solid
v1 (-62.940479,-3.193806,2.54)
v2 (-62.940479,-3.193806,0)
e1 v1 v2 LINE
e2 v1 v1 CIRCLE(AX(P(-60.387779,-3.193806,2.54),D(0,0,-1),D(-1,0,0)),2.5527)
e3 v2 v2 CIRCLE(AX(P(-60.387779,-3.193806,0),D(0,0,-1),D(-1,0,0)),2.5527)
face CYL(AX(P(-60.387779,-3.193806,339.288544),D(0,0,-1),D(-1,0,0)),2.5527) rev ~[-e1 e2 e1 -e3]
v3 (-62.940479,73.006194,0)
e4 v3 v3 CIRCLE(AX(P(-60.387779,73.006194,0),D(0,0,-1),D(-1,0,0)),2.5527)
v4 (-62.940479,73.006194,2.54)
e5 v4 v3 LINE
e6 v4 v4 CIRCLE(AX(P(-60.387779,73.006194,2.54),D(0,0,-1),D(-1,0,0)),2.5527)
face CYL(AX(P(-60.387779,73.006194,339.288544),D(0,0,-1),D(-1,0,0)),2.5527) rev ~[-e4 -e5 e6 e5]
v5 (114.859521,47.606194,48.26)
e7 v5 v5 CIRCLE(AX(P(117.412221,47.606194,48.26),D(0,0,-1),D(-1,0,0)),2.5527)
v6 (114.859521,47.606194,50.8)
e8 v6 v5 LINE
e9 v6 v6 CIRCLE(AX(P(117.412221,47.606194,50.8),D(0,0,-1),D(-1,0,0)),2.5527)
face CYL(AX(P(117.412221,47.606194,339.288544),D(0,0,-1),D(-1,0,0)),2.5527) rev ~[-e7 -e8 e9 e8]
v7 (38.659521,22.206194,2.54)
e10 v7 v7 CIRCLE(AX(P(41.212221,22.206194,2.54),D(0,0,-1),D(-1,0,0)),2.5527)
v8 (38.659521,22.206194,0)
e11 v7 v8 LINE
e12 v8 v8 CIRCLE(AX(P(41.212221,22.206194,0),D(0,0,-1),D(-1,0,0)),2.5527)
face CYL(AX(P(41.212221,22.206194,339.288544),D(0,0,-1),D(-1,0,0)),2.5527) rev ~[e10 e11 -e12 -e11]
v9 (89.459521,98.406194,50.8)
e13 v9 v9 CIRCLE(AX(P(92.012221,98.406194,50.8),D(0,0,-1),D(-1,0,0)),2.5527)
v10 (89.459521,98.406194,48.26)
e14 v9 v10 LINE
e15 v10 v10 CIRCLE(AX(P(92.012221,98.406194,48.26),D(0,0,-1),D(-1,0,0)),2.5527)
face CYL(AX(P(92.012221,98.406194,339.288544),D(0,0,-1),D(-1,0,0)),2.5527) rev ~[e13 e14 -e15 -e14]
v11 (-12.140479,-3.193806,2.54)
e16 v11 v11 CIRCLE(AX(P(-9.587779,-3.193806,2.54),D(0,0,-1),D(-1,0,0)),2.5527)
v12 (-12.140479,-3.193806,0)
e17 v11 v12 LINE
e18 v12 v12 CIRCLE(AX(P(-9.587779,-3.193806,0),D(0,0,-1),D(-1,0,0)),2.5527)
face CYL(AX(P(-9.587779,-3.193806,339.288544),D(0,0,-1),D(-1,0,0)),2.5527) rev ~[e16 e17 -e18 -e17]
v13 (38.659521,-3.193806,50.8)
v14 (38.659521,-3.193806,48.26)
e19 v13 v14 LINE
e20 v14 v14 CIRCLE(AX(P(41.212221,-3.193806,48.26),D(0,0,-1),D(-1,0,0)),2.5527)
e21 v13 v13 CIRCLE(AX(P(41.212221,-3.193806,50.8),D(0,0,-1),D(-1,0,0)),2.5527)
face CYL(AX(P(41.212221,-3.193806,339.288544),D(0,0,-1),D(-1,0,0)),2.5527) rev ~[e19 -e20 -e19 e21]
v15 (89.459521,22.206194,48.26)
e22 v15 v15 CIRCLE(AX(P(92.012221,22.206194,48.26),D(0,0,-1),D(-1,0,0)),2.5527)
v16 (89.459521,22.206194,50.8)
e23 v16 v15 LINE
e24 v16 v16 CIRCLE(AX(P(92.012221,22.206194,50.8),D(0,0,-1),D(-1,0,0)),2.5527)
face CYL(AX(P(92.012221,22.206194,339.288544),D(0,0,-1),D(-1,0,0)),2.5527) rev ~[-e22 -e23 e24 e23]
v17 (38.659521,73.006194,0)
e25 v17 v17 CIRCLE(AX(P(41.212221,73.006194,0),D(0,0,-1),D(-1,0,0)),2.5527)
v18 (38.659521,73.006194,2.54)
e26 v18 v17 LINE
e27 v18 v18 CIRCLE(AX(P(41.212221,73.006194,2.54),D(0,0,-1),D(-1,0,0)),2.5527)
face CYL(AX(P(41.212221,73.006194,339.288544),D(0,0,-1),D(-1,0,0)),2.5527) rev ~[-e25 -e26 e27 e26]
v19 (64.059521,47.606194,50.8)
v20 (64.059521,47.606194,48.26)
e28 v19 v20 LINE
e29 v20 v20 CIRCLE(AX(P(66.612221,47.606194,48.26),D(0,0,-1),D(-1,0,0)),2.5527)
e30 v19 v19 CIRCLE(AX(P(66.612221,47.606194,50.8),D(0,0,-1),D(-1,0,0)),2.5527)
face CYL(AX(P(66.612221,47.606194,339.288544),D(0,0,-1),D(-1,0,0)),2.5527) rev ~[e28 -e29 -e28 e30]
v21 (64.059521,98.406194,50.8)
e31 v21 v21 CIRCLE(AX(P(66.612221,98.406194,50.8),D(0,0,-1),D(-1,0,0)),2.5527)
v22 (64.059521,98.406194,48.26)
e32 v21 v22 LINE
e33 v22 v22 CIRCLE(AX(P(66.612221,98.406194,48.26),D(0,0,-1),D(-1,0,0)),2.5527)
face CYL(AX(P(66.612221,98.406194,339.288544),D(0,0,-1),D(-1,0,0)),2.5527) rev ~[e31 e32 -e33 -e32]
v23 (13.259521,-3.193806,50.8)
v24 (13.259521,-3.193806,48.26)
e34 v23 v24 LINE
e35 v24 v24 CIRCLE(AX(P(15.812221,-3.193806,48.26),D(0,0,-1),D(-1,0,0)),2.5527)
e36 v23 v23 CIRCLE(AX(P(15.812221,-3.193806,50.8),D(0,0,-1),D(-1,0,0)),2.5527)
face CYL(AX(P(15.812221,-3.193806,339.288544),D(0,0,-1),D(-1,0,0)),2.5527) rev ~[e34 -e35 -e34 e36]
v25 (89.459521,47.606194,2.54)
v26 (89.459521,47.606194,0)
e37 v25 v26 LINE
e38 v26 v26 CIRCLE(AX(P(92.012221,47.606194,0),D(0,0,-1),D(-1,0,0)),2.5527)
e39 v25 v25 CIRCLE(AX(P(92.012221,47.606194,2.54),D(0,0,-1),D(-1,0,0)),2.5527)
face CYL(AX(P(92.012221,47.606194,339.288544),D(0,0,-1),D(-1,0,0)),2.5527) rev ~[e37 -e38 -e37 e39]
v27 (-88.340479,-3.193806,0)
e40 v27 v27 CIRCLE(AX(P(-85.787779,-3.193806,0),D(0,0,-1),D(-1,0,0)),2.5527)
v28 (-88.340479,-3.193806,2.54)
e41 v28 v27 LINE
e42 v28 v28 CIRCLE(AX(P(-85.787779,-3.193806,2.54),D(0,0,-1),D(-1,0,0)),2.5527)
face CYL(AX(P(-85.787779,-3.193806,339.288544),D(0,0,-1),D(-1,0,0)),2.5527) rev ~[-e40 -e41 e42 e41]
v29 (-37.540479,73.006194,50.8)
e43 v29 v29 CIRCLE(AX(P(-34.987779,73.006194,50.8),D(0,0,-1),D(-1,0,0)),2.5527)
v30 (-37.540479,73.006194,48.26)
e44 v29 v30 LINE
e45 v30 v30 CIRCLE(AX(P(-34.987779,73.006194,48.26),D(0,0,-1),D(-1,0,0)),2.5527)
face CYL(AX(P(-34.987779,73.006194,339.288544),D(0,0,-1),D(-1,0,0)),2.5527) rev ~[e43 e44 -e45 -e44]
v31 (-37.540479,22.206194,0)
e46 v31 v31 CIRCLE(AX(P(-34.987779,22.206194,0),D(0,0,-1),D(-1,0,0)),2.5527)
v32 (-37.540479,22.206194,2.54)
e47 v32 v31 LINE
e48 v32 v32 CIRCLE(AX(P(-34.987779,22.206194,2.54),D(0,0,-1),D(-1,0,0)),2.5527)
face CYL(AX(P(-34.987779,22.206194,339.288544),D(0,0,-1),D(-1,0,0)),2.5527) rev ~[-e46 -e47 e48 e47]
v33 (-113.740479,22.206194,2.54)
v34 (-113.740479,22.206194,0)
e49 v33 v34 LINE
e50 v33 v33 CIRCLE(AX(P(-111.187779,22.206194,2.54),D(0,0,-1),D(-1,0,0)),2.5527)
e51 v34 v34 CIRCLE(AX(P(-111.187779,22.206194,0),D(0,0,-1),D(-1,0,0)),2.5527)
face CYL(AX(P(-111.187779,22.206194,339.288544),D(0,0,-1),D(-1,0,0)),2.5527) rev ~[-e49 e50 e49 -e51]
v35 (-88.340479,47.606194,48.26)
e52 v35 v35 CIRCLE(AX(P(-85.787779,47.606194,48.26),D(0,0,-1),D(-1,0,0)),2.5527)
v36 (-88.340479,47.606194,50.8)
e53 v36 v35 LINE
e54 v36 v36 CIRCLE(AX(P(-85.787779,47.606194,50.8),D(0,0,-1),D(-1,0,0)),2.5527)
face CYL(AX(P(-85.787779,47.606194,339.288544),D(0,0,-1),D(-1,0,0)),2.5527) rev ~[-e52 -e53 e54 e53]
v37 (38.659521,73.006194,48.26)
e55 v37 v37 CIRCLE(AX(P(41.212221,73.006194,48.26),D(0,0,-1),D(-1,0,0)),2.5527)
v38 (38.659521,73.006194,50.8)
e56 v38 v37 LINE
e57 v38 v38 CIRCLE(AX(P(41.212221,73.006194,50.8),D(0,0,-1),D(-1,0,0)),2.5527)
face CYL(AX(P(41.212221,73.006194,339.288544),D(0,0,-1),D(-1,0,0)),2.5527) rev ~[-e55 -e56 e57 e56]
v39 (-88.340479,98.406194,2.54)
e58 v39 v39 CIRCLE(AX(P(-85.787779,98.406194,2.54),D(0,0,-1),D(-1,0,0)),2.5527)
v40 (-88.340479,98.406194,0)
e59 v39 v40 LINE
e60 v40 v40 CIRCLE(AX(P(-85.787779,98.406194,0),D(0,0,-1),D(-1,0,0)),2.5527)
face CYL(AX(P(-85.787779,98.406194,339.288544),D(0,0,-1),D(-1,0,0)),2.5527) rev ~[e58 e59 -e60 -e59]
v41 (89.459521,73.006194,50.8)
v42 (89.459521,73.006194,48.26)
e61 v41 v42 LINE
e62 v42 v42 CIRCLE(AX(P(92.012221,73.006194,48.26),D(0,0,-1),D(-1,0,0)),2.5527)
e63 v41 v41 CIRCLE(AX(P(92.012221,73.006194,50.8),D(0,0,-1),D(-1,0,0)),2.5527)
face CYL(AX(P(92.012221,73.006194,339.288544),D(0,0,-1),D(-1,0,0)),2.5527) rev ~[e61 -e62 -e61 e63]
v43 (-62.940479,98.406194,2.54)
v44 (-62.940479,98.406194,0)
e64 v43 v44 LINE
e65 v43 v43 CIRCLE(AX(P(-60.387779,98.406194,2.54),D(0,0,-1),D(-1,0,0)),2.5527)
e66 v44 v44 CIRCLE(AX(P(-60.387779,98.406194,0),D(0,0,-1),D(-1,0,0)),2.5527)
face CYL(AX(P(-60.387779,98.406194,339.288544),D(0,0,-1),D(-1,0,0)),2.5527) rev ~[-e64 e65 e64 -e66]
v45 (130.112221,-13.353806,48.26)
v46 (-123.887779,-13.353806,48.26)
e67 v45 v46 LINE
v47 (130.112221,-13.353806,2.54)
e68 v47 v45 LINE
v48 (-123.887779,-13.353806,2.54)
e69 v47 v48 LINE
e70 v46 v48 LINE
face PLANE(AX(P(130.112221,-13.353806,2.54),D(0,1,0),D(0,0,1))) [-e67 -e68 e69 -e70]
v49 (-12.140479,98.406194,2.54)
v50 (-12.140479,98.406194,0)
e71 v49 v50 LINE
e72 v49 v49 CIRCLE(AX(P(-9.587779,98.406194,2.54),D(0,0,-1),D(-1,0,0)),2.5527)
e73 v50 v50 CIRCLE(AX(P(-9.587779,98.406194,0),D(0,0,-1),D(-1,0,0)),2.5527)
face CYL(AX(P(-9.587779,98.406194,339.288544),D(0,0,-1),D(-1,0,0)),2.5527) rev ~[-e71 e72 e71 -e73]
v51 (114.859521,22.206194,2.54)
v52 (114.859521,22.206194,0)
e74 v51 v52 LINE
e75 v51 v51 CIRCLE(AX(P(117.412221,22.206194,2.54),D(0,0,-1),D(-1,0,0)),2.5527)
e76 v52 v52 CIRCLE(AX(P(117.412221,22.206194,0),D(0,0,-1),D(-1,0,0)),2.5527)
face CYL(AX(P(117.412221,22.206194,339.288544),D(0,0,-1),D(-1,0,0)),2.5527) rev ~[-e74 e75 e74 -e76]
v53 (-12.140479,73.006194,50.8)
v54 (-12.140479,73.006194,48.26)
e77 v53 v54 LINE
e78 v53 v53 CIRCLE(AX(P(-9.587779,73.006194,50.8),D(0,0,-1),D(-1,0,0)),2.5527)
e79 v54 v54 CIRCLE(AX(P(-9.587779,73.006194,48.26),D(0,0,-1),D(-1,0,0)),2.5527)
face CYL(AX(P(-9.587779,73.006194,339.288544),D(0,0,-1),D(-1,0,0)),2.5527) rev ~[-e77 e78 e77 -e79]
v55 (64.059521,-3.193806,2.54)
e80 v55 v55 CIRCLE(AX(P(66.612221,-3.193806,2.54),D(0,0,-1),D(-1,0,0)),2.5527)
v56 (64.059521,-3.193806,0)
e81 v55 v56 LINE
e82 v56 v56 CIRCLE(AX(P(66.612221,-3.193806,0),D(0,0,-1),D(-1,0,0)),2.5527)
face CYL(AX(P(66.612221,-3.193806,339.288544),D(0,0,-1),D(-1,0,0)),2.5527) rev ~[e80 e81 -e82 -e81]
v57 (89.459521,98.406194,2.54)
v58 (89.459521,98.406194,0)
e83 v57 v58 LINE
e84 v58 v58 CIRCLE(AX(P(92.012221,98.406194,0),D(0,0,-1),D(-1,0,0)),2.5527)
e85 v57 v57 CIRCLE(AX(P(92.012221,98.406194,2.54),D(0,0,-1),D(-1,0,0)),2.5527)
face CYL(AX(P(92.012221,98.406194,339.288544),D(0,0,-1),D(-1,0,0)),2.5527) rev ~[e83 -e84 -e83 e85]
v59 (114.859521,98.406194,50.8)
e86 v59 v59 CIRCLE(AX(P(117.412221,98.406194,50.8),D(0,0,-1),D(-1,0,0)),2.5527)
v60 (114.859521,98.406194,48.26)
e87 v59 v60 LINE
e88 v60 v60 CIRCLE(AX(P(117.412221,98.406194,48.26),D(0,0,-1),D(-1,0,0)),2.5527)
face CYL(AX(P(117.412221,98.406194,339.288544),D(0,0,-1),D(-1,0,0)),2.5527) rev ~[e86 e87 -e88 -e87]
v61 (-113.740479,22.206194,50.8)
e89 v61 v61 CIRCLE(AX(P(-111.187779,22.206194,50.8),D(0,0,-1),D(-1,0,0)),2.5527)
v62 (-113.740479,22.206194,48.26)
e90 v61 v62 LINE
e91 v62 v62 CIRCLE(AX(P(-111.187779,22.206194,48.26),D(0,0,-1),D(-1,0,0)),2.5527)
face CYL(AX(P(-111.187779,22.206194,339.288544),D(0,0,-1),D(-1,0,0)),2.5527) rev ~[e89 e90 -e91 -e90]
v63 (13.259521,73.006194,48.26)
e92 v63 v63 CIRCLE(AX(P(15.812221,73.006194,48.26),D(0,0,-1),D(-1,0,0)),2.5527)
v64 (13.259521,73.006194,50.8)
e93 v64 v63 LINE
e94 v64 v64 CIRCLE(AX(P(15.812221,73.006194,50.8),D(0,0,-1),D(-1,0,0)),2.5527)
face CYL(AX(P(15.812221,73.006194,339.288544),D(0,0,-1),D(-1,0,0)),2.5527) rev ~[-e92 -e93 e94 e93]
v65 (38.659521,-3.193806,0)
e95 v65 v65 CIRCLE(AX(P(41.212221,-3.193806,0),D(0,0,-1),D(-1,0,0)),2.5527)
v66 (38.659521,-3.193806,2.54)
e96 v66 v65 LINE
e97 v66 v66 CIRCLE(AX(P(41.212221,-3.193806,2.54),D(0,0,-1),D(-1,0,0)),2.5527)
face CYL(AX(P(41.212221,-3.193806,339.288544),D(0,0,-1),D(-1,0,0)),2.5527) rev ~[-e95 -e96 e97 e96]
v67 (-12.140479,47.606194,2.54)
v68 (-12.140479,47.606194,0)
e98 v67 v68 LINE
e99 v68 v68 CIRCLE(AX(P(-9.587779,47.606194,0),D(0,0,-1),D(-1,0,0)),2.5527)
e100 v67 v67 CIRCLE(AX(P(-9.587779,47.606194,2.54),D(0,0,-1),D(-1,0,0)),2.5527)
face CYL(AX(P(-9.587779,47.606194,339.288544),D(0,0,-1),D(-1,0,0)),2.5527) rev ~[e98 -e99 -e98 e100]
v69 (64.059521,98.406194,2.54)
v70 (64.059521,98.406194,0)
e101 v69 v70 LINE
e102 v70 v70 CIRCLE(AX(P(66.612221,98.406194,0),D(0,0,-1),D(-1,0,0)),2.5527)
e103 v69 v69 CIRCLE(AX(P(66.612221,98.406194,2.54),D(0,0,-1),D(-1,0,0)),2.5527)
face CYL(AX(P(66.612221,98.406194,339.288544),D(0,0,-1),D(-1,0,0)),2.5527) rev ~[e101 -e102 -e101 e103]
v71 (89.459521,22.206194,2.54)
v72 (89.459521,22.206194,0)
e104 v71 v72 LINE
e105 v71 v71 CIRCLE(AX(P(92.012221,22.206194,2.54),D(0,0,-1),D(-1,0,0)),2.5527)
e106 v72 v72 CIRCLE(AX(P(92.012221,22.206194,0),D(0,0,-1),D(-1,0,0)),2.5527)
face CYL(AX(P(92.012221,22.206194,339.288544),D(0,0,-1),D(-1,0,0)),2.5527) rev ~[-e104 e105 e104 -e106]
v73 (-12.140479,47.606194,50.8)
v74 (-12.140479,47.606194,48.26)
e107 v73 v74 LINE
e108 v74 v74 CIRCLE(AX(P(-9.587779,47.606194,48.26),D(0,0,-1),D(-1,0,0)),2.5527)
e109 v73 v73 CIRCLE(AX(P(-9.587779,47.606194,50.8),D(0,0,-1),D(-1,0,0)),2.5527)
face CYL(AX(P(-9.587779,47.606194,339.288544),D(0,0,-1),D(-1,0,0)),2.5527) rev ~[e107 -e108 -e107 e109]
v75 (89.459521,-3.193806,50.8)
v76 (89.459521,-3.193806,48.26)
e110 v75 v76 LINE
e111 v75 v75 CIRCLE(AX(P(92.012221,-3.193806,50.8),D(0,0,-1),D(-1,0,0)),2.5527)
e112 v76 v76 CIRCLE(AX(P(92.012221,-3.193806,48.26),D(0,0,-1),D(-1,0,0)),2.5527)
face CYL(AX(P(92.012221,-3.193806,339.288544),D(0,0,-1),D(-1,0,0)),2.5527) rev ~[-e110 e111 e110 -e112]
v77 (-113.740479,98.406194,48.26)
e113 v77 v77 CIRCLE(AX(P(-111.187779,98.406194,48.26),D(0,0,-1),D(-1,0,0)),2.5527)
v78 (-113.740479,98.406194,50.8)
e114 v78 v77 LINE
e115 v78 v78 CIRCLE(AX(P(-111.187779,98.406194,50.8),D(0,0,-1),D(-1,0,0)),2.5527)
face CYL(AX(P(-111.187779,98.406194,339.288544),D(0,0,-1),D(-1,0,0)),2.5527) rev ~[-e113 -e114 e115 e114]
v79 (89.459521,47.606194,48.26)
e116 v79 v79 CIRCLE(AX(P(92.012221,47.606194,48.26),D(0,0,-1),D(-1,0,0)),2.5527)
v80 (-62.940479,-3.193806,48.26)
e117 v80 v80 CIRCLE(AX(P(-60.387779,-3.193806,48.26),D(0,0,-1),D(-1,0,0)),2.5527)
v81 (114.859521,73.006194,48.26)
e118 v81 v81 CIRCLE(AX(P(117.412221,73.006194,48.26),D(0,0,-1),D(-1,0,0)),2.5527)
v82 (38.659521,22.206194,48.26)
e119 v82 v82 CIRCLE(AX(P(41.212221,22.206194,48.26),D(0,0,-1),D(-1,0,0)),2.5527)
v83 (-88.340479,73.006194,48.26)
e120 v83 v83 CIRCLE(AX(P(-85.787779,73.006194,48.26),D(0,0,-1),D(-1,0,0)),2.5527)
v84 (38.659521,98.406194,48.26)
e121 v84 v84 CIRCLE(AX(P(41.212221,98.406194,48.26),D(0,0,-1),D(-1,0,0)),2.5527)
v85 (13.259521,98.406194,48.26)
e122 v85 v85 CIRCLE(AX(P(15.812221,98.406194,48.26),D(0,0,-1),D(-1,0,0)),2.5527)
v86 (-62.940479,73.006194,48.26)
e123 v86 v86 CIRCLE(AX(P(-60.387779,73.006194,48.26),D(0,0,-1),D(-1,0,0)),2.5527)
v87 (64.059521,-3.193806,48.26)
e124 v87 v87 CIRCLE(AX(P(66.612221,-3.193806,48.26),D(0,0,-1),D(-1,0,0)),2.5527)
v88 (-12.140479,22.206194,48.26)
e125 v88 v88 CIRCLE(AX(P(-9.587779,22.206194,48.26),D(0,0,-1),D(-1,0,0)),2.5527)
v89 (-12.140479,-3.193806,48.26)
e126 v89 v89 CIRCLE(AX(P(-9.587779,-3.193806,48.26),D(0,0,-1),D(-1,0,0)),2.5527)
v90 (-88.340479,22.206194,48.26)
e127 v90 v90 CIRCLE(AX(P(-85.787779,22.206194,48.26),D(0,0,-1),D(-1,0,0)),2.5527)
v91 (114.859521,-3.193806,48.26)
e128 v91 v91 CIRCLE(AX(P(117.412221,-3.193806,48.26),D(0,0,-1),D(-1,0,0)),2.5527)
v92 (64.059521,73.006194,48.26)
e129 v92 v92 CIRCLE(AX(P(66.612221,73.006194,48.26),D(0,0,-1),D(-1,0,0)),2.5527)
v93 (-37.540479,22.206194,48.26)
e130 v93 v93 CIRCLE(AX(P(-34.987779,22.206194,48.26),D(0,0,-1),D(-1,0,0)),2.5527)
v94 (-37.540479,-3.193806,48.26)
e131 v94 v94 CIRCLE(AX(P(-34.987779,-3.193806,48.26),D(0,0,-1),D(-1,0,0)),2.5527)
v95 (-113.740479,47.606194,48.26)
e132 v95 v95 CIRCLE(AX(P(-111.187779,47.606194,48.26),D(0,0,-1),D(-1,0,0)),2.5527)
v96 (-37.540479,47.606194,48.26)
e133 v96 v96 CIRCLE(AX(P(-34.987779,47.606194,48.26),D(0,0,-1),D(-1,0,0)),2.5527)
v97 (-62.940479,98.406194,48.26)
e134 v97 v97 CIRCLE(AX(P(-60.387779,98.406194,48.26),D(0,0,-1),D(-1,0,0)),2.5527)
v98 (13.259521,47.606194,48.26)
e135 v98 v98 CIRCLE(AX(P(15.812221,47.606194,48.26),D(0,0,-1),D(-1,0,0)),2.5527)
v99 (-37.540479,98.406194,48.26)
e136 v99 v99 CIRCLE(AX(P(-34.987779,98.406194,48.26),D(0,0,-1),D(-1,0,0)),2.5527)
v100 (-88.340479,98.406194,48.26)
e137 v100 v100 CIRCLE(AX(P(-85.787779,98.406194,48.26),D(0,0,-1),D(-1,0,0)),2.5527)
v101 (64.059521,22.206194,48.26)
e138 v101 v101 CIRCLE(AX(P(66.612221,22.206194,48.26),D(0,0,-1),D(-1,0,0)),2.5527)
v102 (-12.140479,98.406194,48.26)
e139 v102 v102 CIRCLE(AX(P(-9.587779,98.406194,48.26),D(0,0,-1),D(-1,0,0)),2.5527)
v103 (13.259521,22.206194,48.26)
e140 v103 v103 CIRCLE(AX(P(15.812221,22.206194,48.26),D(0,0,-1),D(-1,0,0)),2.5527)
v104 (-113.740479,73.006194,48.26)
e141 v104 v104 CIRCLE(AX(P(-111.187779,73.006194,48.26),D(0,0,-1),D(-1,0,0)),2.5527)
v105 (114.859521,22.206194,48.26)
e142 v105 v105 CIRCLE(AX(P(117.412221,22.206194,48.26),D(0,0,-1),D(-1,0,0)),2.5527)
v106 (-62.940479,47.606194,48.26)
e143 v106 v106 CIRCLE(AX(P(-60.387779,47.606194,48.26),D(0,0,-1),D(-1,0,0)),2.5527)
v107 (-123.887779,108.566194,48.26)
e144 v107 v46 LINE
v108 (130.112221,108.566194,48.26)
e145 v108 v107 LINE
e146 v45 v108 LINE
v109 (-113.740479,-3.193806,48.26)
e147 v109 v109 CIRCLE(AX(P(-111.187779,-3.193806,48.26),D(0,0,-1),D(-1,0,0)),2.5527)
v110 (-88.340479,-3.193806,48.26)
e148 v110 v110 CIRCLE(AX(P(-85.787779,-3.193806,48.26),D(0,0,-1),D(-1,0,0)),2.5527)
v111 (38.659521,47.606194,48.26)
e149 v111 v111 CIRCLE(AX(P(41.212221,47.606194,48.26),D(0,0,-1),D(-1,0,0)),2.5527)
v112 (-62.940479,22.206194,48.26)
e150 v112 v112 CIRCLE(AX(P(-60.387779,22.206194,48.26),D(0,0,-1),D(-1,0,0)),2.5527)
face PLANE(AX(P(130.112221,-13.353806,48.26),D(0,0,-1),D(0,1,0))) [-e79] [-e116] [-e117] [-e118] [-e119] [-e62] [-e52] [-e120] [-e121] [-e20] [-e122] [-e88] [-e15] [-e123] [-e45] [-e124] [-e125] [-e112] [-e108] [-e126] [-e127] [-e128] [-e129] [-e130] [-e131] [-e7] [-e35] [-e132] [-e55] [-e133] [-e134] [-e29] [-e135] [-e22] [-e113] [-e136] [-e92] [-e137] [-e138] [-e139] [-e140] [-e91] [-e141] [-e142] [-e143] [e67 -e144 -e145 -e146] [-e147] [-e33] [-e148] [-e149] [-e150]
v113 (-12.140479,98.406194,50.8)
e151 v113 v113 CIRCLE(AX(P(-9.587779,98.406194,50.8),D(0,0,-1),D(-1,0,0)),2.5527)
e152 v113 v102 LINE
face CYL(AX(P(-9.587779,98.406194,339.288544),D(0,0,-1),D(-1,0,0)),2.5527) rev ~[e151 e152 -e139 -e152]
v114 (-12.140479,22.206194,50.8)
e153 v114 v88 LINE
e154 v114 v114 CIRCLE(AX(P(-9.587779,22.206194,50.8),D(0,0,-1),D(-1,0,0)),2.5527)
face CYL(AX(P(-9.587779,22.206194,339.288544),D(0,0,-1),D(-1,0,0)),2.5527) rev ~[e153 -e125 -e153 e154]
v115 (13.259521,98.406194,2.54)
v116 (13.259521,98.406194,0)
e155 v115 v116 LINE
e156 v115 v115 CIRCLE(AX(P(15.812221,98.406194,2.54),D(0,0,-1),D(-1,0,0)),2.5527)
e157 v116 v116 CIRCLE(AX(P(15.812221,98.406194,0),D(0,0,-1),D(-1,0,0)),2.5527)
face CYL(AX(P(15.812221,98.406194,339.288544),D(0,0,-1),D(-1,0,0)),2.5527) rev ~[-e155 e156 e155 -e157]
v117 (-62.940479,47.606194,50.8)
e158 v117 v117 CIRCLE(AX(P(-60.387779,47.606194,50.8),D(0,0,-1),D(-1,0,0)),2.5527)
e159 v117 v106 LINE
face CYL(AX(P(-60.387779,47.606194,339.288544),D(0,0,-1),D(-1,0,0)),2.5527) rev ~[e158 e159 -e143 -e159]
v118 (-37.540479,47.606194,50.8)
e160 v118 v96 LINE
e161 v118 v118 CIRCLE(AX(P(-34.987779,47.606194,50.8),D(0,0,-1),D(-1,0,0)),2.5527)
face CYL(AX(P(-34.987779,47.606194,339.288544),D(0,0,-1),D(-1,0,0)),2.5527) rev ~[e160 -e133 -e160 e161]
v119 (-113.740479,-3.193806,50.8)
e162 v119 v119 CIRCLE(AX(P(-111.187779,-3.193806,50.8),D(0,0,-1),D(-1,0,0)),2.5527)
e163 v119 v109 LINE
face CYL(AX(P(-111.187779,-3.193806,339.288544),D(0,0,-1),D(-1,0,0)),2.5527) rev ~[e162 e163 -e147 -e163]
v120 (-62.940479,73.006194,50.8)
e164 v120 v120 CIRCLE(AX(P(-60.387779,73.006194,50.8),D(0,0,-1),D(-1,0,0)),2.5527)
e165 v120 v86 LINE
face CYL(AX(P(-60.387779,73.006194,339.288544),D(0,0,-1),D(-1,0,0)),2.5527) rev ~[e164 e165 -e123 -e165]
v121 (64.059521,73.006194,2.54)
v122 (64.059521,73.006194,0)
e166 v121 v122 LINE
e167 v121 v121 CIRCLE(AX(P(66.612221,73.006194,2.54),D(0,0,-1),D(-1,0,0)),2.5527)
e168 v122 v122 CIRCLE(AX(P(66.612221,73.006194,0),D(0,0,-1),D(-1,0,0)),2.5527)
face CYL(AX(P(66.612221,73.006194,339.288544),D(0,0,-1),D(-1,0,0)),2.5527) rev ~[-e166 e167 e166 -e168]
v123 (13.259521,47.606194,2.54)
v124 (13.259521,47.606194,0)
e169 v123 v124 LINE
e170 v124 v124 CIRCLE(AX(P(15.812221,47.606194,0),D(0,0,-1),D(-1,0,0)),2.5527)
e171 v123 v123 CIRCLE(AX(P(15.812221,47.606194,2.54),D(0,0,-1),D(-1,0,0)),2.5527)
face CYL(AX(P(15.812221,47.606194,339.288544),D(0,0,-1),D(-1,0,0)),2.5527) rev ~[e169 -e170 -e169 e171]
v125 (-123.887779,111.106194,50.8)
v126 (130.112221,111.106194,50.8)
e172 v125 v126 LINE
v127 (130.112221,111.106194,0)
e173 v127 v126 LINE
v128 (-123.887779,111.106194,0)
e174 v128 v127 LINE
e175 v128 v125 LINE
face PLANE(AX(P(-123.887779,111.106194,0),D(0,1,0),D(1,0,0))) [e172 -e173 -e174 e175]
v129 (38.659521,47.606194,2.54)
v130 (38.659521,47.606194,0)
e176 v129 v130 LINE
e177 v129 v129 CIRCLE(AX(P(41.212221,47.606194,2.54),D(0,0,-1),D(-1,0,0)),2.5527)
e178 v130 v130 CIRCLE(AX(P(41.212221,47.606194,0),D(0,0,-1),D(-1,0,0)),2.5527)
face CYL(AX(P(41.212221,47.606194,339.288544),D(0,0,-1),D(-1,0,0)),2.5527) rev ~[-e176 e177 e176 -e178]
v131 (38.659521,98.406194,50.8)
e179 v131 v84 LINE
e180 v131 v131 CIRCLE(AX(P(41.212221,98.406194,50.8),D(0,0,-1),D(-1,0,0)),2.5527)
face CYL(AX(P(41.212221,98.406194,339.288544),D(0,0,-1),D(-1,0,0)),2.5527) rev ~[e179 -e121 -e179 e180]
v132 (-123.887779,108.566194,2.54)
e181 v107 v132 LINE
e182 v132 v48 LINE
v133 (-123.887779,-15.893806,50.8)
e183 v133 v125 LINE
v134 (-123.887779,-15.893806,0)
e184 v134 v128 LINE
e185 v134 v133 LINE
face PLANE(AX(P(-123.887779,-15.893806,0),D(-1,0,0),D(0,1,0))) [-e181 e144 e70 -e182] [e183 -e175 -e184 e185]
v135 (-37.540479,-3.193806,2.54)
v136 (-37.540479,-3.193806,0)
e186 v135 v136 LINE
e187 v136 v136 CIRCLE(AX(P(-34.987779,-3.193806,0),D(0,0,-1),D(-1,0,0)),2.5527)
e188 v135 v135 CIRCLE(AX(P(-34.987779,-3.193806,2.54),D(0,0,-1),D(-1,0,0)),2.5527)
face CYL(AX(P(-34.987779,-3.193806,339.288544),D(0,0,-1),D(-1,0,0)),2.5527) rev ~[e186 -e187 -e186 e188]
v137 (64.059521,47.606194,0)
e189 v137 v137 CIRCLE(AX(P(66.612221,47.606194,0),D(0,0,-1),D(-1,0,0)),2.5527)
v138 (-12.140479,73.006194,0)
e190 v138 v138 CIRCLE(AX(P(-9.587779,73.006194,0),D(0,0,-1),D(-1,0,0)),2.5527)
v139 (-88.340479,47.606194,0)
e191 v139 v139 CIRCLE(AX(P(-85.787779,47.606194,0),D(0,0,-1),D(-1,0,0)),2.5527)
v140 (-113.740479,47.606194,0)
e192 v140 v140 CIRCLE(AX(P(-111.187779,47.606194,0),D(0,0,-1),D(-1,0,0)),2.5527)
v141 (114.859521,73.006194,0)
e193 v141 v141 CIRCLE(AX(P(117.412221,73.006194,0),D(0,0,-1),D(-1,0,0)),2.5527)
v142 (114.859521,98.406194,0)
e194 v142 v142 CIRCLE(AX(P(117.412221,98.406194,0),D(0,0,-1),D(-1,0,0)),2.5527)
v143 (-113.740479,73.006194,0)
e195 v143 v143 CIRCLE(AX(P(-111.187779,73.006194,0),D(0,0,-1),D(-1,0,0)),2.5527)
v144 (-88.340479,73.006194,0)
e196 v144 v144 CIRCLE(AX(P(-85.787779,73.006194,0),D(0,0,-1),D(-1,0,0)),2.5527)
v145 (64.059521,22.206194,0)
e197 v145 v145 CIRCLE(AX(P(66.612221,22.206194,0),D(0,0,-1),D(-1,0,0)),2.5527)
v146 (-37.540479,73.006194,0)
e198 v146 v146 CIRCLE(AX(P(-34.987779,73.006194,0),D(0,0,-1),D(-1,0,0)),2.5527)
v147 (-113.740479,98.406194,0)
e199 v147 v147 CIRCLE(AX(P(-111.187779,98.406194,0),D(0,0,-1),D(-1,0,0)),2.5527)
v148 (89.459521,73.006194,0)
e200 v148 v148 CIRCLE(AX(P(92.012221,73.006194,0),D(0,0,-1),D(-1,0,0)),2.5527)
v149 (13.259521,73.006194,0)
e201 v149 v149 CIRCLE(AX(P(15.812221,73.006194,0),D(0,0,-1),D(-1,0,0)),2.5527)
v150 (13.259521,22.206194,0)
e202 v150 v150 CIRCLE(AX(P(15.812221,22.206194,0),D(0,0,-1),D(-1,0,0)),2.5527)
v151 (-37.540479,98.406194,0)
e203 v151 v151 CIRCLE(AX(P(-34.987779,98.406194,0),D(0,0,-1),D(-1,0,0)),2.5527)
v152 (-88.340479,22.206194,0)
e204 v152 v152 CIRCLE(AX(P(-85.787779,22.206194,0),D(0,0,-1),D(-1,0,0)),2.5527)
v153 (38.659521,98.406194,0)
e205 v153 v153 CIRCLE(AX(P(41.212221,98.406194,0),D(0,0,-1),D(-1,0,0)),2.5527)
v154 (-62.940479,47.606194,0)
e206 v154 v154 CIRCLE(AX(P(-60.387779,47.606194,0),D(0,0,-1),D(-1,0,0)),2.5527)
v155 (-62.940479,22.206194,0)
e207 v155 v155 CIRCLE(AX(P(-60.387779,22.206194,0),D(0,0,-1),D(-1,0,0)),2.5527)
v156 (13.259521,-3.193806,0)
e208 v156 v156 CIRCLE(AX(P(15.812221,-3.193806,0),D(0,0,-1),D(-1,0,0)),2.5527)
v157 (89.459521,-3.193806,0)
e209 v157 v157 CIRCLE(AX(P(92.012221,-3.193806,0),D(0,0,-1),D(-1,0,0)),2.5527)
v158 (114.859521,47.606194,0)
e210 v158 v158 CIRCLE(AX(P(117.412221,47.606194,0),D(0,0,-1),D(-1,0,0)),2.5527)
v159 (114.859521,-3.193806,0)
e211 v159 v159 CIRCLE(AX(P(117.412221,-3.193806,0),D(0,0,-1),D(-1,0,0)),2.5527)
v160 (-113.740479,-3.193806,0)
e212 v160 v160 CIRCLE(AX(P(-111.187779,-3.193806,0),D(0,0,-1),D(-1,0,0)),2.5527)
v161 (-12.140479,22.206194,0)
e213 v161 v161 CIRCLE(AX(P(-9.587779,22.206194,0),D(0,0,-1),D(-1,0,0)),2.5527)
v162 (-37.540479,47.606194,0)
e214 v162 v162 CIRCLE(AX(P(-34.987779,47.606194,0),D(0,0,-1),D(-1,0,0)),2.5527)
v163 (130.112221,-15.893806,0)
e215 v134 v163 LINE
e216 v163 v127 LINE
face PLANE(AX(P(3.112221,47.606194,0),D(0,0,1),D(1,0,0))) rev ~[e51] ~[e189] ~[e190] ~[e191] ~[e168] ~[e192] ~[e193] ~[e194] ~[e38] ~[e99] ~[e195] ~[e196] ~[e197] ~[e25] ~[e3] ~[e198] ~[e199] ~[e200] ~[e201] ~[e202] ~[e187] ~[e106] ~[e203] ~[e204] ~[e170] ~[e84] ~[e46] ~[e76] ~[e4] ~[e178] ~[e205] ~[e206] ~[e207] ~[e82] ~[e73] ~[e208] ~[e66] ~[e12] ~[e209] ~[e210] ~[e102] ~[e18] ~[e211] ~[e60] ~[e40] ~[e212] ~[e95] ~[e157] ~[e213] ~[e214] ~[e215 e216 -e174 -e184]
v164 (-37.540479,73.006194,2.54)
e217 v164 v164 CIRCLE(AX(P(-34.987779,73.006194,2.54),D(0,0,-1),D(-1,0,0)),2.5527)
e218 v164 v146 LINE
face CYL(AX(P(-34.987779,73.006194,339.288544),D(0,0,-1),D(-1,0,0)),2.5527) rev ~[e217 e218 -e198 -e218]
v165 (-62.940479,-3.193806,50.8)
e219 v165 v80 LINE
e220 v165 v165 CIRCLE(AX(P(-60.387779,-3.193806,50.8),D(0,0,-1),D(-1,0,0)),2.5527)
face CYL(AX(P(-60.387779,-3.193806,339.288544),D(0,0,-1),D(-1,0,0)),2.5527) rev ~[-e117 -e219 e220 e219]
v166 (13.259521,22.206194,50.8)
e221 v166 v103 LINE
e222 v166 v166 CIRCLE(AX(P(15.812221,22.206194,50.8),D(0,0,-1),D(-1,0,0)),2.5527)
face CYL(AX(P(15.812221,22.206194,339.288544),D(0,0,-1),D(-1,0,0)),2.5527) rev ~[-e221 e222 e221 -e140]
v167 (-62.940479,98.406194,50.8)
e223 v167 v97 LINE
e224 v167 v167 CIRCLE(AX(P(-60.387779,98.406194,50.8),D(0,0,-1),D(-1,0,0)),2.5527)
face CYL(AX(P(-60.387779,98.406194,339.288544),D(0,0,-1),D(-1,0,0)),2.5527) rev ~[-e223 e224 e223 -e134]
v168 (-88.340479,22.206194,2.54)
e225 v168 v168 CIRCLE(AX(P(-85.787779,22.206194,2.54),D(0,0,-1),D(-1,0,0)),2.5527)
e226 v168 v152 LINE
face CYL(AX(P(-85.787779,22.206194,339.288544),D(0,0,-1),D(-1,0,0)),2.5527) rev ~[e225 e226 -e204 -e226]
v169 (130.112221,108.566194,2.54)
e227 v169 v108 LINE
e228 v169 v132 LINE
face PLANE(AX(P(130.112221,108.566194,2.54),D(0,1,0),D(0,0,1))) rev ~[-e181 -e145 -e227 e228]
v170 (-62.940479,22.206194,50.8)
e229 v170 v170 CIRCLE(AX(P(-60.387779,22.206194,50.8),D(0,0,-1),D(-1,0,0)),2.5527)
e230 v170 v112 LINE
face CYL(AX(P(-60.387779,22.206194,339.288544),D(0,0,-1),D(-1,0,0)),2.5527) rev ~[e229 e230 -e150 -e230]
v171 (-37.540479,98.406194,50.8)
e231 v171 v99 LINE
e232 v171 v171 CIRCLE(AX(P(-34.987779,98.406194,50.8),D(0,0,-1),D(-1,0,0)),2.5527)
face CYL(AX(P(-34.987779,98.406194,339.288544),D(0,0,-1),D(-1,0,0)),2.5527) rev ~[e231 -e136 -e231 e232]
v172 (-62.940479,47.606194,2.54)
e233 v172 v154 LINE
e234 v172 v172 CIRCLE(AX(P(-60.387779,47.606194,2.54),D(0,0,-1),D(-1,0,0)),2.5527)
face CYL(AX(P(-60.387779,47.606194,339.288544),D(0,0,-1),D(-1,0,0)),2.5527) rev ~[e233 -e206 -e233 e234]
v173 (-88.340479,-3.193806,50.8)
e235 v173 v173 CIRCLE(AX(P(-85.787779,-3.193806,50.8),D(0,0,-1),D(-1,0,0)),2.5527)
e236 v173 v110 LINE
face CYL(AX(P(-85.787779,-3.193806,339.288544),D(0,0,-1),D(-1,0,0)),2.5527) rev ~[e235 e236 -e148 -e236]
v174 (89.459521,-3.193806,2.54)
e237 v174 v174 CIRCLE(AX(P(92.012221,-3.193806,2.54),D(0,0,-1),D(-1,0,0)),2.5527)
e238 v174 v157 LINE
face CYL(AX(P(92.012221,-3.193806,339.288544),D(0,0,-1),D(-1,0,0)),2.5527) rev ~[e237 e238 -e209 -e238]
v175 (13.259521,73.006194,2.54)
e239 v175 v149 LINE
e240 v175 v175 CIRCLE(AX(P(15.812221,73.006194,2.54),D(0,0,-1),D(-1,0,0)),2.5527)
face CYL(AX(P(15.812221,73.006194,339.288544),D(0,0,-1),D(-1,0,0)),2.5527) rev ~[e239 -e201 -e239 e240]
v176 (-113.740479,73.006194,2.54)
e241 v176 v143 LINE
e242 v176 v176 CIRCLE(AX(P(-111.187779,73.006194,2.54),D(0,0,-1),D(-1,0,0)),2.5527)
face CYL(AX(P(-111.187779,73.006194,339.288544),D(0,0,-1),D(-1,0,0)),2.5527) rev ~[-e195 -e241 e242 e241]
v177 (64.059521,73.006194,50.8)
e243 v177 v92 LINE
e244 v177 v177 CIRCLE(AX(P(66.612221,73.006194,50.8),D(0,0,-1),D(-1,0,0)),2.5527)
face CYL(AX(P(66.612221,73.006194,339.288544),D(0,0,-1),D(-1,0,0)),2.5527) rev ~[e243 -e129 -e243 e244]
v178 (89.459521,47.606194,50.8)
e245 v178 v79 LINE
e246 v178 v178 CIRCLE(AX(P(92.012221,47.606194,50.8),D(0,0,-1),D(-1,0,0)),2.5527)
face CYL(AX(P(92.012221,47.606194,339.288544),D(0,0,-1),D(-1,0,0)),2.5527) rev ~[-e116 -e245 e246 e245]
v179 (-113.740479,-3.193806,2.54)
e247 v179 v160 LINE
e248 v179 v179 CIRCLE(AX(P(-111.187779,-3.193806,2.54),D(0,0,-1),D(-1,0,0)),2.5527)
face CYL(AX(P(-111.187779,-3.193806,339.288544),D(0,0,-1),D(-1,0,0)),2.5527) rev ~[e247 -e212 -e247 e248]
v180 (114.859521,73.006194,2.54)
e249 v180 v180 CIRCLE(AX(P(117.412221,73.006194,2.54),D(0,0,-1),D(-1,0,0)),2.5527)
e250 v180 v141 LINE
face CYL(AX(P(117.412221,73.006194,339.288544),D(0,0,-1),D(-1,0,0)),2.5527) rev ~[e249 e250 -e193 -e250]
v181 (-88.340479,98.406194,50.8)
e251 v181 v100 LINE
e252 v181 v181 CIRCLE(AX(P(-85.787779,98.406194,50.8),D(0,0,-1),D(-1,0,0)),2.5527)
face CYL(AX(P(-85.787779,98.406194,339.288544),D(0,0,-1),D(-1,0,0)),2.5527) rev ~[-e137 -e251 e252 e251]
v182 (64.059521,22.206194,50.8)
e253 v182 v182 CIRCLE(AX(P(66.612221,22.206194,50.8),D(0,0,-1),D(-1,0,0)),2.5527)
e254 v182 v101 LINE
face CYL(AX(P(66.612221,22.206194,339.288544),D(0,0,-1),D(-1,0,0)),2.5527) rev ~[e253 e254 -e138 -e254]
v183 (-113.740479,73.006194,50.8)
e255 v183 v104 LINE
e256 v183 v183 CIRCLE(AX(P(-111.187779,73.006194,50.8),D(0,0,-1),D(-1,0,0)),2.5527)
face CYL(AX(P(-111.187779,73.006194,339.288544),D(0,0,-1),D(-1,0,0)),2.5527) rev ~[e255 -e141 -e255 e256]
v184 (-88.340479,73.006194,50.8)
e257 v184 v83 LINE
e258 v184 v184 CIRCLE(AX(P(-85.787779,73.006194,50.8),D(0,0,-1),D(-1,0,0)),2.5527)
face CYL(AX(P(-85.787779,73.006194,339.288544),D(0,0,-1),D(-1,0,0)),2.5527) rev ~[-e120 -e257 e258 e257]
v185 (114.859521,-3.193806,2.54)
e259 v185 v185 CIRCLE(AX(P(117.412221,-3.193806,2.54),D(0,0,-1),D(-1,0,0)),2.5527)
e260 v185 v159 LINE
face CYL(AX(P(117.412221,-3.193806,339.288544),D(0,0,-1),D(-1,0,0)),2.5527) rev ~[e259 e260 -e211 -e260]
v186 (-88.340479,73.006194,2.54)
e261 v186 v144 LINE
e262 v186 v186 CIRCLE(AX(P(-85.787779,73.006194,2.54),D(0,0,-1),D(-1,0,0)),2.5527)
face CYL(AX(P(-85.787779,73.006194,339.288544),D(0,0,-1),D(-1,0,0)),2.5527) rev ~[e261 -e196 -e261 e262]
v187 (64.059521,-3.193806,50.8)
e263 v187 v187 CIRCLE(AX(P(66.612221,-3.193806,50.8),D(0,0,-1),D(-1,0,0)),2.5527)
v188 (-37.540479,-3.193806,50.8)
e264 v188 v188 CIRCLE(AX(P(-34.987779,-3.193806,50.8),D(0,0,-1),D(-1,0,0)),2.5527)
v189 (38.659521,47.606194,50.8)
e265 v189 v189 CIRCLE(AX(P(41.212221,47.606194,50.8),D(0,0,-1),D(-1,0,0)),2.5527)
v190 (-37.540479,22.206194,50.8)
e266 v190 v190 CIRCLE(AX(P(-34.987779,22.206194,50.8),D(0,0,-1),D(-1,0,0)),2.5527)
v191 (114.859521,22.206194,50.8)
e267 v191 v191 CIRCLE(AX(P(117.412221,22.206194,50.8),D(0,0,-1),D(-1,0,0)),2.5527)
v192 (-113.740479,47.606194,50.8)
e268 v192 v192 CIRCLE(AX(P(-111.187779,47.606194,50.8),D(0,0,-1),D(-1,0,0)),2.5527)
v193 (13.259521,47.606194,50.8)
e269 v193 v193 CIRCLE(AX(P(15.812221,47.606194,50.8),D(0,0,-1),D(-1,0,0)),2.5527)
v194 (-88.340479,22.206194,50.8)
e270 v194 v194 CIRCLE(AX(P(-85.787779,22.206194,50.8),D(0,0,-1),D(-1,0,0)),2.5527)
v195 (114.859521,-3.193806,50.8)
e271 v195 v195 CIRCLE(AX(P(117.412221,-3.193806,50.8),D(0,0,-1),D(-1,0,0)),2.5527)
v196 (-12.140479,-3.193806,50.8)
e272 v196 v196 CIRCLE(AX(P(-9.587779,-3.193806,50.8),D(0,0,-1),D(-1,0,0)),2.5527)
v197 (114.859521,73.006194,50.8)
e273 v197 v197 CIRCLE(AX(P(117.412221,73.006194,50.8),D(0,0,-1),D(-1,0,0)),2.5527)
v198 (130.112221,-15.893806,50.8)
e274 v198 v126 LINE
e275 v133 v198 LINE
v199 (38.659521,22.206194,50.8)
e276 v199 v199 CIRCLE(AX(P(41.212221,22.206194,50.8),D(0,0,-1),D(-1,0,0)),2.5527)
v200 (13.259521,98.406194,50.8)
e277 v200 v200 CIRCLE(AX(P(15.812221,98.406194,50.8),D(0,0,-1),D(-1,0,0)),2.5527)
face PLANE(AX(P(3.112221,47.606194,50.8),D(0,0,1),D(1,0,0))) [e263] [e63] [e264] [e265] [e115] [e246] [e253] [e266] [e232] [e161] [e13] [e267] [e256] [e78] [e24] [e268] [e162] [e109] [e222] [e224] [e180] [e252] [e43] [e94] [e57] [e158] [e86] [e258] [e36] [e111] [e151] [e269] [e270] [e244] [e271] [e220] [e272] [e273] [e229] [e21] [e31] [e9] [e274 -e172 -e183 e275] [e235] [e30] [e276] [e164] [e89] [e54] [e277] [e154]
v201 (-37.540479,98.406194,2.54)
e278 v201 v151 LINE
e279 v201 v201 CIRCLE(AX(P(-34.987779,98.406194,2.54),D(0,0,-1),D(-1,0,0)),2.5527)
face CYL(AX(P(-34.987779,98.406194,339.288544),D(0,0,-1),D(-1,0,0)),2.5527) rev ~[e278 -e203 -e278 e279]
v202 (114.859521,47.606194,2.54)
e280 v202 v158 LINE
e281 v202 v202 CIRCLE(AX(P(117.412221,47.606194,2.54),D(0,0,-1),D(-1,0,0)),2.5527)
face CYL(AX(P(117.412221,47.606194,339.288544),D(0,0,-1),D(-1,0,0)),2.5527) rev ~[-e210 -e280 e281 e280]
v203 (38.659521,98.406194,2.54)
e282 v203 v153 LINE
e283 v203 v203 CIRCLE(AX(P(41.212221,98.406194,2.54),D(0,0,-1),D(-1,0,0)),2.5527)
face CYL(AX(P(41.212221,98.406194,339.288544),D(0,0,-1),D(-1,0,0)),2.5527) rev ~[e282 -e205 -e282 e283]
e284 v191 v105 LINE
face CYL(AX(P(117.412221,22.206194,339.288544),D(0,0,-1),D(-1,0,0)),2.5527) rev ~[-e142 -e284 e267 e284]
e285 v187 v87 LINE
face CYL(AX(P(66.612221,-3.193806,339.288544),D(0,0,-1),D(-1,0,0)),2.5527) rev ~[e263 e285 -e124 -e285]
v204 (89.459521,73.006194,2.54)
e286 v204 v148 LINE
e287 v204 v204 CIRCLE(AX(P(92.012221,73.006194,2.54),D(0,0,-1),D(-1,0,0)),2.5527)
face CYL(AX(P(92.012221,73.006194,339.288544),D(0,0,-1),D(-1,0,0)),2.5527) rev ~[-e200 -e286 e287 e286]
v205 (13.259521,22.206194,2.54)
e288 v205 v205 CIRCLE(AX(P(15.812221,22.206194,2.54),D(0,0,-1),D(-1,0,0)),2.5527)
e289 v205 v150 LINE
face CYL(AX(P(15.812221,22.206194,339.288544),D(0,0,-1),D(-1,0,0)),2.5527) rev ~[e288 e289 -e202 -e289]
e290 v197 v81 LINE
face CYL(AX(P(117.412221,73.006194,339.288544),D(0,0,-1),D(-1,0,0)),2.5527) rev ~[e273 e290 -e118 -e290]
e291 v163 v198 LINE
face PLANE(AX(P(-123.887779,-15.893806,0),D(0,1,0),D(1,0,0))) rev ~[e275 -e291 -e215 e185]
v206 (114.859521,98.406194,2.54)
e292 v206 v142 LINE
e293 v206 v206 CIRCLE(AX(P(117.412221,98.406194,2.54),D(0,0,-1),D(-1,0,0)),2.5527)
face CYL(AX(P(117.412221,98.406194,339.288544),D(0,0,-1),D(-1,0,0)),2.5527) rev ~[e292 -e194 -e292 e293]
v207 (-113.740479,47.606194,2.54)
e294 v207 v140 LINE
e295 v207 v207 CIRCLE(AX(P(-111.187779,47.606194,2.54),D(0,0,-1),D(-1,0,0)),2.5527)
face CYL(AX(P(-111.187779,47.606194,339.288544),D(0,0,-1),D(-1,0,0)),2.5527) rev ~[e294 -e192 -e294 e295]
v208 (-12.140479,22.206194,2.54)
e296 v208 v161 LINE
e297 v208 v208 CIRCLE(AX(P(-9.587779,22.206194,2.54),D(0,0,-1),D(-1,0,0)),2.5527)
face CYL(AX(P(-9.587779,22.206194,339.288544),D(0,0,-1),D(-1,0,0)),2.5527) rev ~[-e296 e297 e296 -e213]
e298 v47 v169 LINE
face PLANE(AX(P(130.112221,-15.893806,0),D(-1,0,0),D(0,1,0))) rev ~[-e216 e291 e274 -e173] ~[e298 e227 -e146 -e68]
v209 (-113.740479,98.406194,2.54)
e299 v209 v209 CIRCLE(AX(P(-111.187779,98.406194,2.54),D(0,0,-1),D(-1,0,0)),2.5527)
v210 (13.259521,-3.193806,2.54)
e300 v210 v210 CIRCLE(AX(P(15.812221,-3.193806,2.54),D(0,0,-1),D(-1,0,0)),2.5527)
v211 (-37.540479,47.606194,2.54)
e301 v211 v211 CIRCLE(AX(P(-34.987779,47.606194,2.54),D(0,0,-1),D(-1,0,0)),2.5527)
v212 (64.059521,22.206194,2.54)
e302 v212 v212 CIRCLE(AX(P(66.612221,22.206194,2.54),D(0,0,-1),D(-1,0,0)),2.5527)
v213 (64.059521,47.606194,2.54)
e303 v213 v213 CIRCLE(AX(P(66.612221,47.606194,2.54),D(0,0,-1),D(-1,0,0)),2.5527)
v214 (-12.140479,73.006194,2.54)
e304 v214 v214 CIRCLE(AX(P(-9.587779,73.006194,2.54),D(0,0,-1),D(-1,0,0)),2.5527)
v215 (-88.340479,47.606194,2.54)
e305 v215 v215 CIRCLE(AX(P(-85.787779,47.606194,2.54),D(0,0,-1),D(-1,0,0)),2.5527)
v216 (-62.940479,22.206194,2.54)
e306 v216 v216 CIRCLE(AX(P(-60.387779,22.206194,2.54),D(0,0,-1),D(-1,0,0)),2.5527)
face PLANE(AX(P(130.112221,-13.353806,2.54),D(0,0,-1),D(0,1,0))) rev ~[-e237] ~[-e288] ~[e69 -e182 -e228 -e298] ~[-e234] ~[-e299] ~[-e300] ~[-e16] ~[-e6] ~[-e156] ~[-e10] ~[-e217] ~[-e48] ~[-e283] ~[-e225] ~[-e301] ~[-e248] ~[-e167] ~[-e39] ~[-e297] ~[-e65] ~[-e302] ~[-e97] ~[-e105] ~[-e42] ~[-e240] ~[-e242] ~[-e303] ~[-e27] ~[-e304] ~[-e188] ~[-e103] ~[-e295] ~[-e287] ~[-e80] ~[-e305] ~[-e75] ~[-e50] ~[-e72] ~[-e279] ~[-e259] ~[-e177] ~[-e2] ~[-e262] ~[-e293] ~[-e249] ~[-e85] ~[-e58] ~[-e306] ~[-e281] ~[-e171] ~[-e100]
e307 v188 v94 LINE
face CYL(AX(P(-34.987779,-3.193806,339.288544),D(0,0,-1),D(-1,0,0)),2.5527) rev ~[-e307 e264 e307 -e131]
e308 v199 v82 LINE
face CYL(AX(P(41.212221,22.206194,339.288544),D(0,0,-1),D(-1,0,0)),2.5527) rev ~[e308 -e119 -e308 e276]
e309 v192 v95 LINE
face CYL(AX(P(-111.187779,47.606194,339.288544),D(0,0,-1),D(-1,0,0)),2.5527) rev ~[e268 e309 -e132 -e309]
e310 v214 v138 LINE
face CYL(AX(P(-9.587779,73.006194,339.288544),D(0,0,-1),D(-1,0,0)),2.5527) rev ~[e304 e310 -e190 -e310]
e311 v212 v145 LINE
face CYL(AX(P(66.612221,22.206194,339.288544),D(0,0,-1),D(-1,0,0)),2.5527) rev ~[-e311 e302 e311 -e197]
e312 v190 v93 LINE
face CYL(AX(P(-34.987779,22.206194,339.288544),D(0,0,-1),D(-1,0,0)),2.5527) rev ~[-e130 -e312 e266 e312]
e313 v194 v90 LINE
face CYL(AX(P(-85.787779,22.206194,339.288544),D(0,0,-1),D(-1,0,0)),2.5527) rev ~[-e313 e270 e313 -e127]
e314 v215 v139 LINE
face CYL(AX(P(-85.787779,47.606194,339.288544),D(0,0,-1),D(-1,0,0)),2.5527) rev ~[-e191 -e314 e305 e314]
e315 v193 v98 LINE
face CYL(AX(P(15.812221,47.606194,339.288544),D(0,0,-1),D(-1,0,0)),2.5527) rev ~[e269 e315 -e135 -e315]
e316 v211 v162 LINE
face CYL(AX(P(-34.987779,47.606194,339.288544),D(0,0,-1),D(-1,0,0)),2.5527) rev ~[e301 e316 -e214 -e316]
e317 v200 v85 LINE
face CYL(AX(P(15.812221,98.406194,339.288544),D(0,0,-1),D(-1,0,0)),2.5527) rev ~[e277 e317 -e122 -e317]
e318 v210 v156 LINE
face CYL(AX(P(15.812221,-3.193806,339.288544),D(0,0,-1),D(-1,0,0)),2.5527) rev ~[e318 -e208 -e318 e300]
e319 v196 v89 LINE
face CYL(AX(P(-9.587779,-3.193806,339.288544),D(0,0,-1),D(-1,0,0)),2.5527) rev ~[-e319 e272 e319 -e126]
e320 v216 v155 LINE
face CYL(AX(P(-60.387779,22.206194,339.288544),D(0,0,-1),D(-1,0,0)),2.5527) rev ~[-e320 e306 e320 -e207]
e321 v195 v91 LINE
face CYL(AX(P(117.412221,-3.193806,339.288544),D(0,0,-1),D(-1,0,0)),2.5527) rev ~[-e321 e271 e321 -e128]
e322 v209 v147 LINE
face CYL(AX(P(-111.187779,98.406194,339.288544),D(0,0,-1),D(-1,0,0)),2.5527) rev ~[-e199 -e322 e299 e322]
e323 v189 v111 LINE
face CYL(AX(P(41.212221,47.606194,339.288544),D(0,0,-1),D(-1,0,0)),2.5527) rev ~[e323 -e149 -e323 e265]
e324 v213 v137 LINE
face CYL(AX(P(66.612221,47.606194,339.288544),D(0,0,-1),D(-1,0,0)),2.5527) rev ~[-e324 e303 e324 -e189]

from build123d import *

# Parameters (mm, degrees)
F0_W     = 254
F0_H     = 127
F1_DEPTH = 50.8
F2_W     = 121.92
F2_H     = 45.72
F3_DEPTH = 254.001
F5_D     = 5.1054


with BuildPart() as f1:
    # F0 (on Top) → F1 (new body)
    with BuildSketch(Plane.XY):
        with Locations((3.112221, 47.606194)):
            Rectangle(F0_W, F0_H)
    extrude(amount=F1_DEPTH)

    # F2 (on face) → F3 (cut, through all)
    with BuildSketch(Plane.YZ.offset(130.112221)):
        with Locations((47.606194, 25.4)):
            Rectangle(F2_W, F2_H)
    extrude(amount=-F3_DEPTH, mode=Mode.SUBTRACT)

    # F5 (through all)
    with Locations(Plane.XY.offset(50.8)):
        with Locations((-60.387779, 47.606194), (15.812221, 73.006194), (41.212221, 98.406194), (-111.187779, 47.606194), (-34.987779, 73.006194), (-60.387779, 22.206194), (15.812221, 47.606194), (41.212221, 73.006194), (-85.787779, 73.006194), (-111.187779, 22.206194), (-9.587779, 98.406194), (-34.987779, 47.606194), (-60.387779, 98.406194), (41.212221, -3.193806), (66.612221, 47.606194), (-85.787779, -3.193806), (-9.587779, 22.206194), (-60.387779, -3.193806), (15.812221, 22.206194), (92.012221, -3.193806), (41.212221, 47.606194), (66.612221, 98.406194), (-111.187779, -3.193806), (-85.787779, 47.606194), (-34.987779, 22.206194), (-9.587779, 73.006194), (66.612221, 73.006194), (66.612221, 22.206194), (117.412221, 98.406194), (117.412221, 73.006194), (117.412221, 47.606194), (117.412221, 22.206194), (117.412221, -3.193806), (92.012221, 98.406194), (92.012221, 73.006194), (92.012221, 47.606194), (92.012221, 22.206194), (-111.187779, 98.406194), (-9.587779, -3.193806), (-85.787779, 98.406194), (15.812221, -3.193806), (-60.387779, 73.006194), (15.812221, 98.406194), (41.212221, 22.206194), (-85.787779, 22.206194), (-9.587779, 47.606194), (-34.987779, -3.193806), (66.612221, -3.193806), (-111.187779, 73.006194), (-34.987779, 98.406194)):
            Hole(F5_D / 2)


solid = f1.part
